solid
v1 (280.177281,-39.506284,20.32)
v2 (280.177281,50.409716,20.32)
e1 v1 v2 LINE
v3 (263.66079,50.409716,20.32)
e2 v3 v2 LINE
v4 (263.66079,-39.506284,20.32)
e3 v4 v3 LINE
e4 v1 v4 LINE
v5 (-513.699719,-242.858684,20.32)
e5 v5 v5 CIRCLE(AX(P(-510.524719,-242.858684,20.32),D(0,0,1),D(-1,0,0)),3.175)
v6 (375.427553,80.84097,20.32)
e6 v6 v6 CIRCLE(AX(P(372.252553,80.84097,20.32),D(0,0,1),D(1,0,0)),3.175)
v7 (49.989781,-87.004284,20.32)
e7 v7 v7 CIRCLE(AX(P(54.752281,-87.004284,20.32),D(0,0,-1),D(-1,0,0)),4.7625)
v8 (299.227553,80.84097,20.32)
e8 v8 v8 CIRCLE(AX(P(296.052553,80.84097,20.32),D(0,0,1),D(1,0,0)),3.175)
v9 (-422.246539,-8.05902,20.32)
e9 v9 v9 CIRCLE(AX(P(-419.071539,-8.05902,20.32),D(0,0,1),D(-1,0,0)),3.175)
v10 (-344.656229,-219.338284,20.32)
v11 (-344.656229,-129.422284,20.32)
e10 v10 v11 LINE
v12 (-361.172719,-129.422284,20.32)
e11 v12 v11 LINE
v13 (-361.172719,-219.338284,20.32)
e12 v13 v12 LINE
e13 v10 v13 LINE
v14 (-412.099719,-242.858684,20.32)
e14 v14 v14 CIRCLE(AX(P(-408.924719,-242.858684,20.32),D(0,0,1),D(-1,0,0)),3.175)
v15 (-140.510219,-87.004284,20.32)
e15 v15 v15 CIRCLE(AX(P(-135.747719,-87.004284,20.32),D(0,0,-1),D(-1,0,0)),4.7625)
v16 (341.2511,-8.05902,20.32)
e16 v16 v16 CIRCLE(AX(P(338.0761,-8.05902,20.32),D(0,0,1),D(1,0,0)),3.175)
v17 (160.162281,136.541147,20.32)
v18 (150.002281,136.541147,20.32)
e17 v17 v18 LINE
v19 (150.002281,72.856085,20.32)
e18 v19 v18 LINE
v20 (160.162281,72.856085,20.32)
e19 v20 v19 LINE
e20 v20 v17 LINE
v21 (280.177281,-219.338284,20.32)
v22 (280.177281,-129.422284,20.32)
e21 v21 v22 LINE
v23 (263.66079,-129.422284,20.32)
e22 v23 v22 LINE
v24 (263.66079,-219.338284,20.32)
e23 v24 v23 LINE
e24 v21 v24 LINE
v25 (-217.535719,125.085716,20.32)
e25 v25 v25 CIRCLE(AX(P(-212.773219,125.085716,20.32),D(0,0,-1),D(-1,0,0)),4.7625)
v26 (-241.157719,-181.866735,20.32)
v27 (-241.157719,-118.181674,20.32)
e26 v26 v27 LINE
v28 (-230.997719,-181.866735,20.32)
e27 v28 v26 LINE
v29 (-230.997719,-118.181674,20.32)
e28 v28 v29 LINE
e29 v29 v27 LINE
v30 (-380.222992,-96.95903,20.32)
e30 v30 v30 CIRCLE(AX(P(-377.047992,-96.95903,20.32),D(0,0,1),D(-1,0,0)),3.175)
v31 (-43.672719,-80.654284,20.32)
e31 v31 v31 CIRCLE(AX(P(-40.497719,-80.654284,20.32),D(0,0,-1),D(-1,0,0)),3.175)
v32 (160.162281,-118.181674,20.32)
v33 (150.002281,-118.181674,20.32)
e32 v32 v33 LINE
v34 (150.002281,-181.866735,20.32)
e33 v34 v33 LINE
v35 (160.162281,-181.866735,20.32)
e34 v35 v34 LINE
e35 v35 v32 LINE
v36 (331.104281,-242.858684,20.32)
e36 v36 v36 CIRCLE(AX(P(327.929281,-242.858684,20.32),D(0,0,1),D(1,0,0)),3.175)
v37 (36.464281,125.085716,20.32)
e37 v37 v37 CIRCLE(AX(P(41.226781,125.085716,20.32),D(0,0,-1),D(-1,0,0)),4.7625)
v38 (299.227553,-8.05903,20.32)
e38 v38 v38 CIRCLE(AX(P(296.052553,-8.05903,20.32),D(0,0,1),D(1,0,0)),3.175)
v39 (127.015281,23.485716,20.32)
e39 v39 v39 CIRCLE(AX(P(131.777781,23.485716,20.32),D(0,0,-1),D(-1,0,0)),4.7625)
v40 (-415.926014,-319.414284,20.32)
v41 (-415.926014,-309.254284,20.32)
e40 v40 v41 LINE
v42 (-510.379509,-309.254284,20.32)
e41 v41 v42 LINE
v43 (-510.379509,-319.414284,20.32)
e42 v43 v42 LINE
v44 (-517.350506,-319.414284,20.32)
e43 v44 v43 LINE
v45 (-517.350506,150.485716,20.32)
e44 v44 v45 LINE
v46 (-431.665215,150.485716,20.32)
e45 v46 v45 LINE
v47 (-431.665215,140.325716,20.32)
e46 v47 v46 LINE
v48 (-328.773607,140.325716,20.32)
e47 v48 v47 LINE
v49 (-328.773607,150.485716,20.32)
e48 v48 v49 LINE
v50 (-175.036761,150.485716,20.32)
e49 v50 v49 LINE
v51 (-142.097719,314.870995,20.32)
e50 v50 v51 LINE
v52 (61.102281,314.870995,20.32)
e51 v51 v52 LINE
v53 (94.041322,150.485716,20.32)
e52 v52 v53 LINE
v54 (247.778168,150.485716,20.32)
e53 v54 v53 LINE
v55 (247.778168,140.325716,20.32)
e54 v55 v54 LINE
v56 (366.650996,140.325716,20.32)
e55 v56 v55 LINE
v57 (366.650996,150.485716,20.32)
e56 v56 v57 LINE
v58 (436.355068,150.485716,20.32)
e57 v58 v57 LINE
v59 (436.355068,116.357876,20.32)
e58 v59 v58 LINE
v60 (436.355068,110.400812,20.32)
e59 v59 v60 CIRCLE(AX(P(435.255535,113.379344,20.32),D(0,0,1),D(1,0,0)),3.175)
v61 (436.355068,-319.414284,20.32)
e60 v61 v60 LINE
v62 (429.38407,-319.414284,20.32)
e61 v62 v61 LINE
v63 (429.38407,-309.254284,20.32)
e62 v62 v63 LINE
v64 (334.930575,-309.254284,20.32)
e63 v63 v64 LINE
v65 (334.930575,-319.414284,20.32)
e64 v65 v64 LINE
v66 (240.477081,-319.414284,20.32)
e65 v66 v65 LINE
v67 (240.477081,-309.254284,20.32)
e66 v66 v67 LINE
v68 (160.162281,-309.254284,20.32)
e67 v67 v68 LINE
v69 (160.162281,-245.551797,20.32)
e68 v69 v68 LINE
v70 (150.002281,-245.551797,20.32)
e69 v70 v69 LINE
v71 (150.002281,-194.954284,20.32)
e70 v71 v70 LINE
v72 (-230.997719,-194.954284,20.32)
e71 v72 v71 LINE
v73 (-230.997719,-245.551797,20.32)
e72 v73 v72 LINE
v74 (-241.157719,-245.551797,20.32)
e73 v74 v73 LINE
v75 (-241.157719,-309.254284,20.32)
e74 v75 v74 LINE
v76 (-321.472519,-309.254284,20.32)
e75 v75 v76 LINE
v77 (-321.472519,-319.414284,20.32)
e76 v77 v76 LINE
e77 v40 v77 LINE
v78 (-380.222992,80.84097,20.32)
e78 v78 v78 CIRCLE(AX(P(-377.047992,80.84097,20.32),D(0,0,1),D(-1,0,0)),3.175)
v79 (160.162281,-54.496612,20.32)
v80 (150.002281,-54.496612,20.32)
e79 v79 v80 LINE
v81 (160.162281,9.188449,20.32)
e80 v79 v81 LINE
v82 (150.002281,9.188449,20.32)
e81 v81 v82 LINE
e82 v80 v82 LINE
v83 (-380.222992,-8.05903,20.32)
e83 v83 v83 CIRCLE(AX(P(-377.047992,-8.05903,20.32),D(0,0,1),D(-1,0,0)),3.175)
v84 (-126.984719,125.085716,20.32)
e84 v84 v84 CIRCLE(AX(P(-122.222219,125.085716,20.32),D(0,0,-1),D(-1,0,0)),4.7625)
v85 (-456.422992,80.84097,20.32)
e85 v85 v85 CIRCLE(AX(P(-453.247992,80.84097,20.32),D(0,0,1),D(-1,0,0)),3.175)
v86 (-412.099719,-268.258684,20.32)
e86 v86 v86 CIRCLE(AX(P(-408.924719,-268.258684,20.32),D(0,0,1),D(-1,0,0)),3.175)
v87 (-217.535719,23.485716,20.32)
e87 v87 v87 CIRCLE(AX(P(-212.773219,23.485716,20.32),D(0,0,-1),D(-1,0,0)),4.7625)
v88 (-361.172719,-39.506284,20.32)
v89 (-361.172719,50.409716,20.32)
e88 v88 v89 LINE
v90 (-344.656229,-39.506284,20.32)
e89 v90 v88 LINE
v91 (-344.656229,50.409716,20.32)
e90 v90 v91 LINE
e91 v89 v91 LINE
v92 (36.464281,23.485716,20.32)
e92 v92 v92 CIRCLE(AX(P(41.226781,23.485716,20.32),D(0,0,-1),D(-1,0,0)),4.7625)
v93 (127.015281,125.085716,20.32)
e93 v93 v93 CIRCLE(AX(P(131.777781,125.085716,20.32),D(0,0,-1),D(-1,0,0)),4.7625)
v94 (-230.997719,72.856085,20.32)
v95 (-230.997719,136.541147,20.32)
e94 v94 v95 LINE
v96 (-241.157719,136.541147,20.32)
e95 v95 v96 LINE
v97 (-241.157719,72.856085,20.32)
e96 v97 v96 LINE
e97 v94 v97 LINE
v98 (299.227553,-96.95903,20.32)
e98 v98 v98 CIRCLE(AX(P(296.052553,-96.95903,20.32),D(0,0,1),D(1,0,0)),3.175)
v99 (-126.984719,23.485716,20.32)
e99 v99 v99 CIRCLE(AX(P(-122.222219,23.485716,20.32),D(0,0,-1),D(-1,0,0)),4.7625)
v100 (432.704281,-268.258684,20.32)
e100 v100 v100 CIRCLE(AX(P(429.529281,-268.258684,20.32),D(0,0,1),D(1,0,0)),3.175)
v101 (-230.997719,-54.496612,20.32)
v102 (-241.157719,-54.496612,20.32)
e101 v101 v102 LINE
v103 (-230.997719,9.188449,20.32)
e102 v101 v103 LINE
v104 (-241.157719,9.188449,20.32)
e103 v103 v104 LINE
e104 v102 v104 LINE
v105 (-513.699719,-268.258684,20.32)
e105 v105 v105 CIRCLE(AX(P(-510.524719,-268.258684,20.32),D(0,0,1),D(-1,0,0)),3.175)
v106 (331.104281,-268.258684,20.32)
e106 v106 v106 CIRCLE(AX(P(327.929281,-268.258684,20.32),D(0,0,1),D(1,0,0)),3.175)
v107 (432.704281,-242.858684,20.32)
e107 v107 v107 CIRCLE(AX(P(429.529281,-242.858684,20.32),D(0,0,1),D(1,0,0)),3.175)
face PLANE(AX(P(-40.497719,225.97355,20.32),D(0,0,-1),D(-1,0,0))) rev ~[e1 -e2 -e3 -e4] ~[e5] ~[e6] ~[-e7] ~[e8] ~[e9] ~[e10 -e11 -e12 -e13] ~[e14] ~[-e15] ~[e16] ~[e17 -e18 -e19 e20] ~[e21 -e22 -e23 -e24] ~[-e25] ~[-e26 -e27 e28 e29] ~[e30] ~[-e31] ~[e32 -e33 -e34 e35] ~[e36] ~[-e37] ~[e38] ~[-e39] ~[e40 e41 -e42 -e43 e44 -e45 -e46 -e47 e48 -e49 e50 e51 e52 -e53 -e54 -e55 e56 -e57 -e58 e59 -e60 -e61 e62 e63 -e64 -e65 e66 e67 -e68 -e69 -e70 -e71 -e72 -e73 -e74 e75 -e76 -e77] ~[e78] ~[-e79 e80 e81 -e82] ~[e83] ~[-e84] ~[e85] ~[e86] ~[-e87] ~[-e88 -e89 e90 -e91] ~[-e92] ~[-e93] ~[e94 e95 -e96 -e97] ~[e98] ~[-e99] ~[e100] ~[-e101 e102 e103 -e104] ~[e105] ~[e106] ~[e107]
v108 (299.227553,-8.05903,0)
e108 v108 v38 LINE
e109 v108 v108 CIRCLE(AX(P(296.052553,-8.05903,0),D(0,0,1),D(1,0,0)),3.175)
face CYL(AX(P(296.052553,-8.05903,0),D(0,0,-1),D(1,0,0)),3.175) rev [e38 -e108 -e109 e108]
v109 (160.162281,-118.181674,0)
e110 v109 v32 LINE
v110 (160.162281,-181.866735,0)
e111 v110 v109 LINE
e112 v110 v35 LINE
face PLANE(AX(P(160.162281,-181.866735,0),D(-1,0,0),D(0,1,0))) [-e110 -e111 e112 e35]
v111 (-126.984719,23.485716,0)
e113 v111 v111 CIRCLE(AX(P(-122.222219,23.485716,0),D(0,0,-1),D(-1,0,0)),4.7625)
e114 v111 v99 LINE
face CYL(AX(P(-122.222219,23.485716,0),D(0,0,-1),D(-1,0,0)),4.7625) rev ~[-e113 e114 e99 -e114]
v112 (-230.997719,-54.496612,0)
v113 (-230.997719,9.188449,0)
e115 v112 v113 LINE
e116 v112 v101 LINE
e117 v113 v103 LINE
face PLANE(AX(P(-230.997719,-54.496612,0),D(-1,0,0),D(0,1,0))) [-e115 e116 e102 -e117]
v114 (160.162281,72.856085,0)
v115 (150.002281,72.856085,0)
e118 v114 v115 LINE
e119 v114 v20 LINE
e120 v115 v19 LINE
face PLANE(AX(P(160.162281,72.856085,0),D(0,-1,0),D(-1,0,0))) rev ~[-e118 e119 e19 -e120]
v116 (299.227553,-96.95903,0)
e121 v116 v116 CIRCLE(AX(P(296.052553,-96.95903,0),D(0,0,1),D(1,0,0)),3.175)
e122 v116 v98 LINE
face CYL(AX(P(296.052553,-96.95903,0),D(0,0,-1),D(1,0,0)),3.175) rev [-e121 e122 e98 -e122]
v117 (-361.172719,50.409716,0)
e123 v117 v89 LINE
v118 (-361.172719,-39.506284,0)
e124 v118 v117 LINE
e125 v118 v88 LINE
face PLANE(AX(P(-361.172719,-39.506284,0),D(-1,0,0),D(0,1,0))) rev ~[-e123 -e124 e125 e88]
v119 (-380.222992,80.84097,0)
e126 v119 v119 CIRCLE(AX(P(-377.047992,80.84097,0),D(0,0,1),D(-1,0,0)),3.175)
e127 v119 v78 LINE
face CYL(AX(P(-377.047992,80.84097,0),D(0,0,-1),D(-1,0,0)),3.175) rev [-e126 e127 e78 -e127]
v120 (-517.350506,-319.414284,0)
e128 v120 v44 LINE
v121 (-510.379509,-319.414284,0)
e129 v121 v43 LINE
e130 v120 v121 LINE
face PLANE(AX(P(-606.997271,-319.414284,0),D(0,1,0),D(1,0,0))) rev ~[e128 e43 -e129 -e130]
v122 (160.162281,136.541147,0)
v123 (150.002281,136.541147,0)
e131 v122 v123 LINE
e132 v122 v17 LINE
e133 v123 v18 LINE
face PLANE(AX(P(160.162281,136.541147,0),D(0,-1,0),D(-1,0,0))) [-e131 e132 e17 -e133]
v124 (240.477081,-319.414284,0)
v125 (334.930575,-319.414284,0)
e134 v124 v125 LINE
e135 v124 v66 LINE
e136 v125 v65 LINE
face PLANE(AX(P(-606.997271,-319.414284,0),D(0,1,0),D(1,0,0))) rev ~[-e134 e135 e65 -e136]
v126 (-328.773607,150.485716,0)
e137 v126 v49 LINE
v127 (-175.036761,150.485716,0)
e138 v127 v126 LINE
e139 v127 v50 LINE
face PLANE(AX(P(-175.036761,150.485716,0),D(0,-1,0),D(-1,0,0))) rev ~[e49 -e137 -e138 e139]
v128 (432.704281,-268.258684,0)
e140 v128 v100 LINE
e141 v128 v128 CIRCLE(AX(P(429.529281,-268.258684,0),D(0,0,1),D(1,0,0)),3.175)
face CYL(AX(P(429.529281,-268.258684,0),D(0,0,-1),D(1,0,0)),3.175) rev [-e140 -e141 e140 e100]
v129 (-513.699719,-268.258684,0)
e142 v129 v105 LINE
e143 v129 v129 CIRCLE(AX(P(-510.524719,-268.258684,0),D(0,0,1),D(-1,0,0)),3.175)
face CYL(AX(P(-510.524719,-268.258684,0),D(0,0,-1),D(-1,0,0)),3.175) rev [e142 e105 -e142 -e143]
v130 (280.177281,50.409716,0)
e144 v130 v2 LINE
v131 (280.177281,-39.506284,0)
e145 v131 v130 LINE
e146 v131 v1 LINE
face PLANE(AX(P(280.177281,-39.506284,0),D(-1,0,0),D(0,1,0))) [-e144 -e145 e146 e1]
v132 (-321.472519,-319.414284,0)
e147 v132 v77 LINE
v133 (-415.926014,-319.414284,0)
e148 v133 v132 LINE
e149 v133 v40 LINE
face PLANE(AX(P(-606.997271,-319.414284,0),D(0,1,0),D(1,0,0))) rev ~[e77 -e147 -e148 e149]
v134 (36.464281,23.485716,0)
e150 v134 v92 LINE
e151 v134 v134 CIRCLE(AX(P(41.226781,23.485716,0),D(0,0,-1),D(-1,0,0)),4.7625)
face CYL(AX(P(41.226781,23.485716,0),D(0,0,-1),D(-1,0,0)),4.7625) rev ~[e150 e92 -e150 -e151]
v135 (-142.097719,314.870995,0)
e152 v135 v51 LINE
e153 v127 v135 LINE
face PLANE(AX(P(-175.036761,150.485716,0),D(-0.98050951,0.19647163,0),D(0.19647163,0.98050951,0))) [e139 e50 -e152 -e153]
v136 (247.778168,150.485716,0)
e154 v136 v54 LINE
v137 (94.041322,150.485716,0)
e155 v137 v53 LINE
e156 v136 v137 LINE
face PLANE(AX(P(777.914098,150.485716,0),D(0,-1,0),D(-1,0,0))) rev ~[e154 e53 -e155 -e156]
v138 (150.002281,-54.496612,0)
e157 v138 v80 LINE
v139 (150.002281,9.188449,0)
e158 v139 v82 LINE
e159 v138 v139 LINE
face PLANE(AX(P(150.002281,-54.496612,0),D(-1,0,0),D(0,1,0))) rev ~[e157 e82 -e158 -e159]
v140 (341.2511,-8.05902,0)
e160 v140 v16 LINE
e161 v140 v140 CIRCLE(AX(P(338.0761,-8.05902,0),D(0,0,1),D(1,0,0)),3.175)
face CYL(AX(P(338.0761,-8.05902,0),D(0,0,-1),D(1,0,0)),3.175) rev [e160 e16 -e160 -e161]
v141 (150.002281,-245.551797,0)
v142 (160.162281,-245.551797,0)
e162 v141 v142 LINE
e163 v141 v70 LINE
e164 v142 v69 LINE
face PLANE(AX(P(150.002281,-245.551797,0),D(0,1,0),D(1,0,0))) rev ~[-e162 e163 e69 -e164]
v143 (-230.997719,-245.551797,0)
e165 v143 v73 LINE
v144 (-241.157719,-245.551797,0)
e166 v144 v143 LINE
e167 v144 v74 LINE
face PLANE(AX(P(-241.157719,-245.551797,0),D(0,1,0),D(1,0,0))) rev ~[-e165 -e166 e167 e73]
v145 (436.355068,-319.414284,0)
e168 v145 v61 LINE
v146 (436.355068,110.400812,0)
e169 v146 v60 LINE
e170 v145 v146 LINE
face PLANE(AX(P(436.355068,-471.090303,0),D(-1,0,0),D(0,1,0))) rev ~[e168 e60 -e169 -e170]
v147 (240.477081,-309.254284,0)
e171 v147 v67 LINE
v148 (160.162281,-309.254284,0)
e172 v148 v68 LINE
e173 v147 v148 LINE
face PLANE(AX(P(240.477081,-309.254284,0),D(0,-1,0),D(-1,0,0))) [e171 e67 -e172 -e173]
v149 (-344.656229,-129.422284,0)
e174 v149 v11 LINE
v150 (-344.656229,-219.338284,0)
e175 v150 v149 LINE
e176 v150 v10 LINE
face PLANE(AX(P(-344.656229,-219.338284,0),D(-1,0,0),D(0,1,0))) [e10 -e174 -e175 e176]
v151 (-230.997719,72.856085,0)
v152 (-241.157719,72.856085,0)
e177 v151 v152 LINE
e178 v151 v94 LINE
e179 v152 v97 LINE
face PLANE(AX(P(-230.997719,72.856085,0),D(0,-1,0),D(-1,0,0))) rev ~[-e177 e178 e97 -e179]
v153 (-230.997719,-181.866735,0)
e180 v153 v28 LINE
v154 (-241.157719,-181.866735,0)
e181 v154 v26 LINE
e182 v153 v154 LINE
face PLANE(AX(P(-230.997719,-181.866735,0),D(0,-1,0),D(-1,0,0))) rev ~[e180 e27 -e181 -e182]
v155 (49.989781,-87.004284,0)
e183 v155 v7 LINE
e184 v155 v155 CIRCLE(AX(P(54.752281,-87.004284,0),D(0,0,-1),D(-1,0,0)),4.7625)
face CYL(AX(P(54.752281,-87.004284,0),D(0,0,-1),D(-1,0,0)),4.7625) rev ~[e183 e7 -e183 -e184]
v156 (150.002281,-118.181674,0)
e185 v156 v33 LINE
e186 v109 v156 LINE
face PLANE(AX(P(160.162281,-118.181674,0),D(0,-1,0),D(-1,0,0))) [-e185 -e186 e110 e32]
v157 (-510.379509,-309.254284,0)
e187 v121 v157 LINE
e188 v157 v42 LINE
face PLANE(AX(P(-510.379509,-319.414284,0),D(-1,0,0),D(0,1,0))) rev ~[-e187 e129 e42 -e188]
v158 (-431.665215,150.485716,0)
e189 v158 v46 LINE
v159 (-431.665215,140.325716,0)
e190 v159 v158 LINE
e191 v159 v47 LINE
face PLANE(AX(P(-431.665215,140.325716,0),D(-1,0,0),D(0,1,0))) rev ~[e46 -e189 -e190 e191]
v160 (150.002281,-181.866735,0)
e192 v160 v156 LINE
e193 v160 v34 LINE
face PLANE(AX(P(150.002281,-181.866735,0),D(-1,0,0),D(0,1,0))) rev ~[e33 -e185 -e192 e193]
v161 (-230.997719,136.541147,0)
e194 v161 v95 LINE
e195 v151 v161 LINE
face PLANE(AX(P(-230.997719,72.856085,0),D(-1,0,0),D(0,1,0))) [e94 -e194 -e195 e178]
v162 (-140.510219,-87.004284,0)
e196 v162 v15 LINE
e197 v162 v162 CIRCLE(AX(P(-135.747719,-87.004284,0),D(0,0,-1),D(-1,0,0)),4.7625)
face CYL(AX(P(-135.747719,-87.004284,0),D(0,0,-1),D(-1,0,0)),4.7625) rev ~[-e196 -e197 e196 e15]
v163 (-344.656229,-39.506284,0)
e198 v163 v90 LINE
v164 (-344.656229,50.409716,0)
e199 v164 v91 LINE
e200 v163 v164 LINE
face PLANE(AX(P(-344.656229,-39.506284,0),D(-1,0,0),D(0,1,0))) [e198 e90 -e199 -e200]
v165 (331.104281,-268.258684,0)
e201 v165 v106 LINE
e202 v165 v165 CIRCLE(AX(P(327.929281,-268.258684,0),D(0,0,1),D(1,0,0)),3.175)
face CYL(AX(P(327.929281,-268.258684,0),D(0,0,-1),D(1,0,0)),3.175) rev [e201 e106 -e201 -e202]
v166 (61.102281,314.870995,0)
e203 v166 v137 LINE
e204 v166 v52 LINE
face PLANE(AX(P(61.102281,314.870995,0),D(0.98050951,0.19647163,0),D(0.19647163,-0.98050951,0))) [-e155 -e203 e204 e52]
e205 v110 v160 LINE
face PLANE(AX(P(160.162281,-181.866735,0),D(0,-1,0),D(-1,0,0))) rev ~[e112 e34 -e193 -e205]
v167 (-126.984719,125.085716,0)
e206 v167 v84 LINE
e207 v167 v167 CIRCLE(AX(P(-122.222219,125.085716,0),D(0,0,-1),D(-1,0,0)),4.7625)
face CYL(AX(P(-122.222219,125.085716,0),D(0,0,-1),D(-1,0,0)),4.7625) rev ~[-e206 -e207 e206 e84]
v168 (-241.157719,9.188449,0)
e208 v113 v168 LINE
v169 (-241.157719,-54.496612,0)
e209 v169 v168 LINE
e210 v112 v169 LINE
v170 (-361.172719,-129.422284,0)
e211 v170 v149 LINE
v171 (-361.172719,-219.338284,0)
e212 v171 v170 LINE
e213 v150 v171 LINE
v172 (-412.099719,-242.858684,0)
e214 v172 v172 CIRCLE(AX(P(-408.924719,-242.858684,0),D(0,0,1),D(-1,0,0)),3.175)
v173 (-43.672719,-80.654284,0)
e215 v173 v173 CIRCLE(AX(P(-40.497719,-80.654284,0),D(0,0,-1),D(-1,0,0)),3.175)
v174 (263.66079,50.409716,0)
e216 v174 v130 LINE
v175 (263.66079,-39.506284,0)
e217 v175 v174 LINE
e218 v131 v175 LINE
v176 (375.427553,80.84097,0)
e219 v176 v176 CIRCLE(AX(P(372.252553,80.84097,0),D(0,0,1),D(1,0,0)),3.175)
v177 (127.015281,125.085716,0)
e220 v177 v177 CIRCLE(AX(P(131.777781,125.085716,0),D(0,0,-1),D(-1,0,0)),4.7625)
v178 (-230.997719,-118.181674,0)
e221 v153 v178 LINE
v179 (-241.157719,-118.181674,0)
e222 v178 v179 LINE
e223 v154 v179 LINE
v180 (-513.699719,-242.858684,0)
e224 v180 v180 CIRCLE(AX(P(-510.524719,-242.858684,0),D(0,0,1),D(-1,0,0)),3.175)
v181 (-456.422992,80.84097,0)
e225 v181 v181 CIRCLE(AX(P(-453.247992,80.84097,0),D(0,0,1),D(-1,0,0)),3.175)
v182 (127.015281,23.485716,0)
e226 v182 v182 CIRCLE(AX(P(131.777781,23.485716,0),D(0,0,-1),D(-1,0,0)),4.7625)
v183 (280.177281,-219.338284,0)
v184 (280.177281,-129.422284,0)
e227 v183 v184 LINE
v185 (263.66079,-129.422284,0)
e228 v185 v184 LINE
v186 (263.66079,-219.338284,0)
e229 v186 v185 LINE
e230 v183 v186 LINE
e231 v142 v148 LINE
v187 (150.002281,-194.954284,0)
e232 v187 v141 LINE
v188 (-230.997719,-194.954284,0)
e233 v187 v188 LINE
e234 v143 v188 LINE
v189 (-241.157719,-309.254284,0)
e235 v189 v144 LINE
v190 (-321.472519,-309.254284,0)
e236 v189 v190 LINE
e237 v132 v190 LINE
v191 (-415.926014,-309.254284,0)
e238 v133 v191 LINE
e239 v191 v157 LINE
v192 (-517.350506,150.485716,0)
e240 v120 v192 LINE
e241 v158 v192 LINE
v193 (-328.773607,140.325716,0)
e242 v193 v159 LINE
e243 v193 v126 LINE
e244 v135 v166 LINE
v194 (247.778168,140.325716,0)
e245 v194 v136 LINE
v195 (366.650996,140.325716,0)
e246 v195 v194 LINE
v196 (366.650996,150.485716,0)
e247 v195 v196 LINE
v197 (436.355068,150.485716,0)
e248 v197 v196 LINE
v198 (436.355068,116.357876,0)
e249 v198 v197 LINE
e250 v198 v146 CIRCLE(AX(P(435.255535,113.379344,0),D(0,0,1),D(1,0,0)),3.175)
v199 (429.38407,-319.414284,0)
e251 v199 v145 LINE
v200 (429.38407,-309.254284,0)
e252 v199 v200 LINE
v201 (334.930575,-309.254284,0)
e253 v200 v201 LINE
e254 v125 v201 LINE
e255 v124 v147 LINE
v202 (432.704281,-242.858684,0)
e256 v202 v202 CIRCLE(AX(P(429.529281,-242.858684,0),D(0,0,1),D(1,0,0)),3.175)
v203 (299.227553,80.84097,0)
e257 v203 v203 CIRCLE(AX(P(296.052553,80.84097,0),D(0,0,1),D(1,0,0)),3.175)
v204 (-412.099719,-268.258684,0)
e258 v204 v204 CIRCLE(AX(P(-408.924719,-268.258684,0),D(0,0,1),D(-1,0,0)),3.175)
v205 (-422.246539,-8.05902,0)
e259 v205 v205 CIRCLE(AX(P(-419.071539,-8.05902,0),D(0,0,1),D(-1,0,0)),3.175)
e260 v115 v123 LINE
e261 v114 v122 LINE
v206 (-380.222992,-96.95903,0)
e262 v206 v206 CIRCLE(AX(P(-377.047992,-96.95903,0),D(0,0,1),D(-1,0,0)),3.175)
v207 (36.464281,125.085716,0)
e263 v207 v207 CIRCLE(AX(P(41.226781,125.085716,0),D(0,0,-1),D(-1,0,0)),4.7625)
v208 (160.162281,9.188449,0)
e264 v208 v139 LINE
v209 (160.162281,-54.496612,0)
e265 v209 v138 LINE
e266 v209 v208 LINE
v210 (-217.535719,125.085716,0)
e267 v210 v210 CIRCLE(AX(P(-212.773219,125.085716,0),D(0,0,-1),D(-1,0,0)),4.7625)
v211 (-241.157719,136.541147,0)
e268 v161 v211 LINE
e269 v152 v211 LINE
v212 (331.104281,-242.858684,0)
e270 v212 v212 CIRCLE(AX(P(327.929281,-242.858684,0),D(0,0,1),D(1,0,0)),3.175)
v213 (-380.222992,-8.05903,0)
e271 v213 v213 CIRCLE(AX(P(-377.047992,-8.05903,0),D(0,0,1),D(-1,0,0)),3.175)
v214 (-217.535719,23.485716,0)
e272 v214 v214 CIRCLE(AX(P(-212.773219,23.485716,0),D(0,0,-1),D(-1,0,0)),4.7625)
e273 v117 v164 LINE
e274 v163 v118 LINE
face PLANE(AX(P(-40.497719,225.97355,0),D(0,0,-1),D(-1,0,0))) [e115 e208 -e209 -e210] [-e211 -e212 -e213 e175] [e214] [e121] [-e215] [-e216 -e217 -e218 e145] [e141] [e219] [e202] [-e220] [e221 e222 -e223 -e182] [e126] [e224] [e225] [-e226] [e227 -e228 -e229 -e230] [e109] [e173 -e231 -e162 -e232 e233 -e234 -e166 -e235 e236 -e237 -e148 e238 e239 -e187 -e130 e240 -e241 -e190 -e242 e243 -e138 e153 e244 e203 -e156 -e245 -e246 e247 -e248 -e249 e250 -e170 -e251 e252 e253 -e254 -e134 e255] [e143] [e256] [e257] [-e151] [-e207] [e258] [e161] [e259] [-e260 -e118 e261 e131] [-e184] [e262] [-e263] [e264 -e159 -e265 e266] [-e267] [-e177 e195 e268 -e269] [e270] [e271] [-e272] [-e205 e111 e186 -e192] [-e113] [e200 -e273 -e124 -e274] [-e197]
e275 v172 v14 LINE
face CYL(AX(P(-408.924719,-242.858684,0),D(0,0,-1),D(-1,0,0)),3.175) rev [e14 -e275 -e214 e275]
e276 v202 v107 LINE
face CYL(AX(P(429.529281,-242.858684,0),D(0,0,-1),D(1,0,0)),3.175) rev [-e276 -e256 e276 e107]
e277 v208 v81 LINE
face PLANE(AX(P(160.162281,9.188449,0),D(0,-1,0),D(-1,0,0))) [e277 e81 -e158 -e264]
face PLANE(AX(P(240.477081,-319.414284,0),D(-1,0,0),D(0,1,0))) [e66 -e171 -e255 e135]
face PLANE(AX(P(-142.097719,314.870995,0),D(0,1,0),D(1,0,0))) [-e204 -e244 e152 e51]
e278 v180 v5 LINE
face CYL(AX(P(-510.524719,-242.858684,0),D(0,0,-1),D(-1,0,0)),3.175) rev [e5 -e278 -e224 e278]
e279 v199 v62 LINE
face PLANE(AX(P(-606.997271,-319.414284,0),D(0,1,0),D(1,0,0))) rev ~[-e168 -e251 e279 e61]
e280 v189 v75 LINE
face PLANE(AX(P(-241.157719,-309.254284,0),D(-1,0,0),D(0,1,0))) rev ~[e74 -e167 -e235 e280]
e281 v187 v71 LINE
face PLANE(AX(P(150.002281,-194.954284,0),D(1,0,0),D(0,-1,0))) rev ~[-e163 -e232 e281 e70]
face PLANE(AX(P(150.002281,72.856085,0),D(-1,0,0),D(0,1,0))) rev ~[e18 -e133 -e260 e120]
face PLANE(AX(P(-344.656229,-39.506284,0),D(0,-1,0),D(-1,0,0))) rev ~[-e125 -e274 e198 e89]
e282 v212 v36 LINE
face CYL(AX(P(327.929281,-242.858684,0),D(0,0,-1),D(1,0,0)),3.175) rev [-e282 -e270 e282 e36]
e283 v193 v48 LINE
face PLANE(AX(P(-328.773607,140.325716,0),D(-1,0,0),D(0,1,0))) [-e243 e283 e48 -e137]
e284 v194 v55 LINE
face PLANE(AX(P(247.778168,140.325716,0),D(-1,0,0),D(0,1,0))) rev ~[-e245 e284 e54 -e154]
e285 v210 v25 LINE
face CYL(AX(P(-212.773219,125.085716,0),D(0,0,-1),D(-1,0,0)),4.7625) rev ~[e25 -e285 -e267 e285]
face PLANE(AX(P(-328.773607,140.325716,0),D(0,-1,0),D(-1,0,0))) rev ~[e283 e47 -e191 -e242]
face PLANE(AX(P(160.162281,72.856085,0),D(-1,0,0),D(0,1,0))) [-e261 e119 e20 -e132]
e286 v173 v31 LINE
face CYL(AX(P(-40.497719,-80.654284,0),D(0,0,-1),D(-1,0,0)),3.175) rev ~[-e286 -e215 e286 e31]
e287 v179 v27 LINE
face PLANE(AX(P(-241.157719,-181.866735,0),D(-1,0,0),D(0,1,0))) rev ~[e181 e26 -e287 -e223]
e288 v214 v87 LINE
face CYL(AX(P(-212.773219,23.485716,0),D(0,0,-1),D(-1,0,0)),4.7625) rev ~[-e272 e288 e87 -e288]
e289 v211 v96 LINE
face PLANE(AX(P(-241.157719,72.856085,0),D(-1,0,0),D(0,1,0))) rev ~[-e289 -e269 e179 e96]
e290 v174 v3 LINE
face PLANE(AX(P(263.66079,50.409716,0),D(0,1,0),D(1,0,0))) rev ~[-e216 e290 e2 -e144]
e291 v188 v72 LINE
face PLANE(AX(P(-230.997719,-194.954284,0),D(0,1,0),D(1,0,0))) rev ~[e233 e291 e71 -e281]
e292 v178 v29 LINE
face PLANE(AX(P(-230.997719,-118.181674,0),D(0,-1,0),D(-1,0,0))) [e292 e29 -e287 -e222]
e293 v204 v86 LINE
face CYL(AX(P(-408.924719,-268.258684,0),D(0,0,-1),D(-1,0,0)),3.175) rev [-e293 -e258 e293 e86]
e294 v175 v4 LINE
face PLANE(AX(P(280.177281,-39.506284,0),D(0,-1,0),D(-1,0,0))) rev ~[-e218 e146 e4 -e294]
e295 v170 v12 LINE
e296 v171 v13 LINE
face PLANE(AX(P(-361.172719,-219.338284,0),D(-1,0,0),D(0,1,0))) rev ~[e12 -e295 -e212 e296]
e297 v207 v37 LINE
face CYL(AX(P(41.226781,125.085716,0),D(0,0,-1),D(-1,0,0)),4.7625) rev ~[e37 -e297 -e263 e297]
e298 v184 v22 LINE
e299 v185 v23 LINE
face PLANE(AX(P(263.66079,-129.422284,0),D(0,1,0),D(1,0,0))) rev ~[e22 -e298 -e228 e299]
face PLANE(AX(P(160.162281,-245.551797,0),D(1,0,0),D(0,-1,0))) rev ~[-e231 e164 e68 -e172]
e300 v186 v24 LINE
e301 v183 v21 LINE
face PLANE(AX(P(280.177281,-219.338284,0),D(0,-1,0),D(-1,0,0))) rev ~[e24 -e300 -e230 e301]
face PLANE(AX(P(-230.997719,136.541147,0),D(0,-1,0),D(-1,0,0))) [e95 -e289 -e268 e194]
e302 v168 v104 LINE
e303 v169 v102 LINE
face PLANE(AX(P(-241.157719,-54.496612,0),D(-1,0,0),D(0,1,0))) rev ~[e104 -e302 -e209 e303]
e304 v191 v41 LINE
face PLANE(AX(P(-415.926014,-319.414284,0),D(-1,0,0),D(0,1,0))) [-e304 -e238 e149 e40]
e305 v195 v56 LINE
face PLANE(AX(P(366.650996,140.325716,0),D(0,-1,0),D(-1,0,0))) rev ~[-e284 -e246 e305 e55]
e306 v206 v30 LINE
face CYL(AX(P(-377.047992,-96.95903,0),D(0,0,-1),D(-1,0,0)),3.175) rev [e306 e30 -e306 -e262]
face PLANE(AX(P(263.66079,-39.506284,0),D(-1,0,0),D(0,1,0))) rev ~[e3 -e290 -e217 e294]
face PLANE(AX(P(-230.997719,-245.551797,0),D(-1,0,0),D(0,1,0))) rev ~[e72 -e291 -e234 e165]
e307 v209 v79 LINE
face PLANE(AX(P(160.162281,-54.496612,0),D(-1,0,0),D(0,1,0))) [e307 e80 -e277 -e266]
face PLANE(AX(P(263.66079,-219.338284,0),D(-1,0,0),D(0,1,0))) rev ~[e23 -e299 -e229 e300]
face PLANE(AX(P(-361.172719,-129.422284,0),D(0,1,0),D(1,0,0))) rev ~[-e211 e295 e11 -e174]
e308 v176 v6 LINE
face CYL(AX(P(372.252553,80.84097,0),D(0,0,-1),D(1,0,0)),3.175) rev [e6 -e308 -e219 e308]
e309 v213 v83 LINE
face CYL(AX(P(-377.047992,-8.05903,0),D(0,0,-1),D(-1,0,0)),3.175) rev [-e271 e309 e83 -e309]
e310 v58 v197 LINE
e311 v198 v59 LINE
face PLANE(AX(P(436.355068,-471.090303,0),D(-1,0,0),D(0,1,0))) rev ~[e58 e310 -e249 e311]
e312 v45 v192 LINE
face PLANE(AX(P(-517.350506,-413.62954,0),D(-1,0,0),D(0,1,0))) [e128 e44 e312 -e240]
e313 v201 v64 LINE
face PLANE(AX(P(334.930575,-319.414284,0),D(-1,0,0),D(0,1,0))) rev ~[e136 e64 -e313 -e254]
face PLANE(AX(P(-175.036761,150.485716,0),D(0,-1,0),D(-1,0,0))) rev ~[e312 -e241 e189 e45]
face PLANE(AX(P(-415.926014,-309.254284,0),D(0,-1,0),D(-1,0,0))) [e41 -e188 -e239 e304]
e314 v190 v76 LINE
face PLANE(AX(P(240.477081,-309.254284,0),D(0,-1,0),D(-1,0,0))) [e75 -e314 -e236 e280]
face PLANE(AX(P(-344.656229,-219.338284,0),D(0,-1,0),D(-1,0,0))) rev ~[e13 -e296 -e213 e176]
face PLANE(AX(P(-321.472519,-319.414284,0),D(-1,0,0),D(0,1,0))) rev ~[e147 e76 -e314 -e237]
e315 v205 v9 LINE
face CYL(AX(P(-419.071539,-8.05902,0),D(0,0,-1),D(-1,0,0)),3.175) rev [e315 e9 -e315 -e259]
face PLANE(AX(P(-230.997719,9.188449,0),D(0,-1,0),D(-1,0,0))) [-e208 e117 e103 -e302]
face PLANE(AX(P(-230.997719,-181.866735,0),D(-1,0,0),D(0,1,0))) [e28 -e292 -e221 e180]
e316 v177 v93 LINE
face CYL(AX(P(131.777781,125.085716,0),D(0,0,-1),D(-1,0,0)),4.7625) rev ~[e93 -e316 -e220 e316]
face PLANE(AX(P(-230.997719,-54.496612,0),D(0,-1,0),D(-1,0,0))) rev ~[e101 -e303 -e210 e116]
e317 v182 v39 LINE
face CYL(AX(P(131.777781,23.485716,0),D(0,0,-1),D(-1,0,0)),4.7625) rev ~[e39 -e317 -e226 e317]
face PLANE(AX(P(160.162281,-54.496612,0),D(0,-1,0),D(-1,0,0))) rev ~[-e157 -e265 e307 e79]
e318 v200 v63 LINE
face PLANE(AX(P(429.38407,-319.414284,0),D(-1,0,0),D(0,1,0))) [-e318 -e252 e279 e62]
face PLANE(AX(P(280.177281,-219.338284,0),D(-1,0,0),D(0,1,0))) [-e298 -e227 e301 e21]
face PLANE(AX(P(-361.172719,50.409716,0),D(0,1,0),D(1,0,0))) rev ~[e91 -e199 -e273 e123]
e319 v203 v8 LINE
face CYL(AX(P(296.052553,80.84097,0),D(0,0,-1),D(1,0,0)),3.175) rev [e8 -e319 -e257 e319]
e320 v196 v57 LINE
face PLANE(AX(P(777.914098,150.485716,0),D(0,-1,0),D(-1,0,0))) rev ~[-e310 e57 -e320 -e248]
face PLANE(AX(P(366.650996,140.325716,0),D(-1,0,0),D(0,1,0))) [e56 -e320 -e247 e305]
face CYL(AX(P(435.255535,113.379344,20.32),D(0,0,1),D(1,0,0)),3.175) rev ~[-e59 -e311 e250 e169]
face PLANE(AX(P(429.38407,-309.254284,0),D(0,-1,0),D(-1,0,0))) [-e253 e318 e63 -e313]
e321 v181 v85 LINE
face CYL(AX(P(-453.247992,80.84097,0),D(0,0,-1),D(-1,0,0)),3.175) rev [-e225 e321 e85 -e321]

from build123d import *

# Parameters (mm, degrees)
BOSS_EXTRUDE1_DEPTH = 20.32
SKETCH2_W           = 120.284747719
SKETCH2_H           = 10.16
SKETCH2_W_2         = 118.872828106
SKETCH2_W_3         = 10.166490401
SKETCH2_H_2         = 89.916
SKETCH2_W_4         = 102.891608588
SKETCH2_W_5         = 94.453494602
SKETCH2_W_6         = 3.175
SKETCH2_W_7         = 561.9496
CUT_EXTRUDE1_DEPTH  = 137.414
SKETCH3_W           = 337.058
SKETCH3_H           = 124.46
CUT_EXTRUDE2_DEPTH  = 137.414
SKETCH4_W           = 10.16
SKETCH4_H           = 63.685061479
SKETCH4_H_2         = 63.685061478
CUT_EXTRUDE3_DEPTH  = 20.32
SKETCH10_R          = 3.175
CUT_EXTRUDE5_DEPTH  = 20.32
SKETCH12_R          = 4.7625
CUT_EXTRUDE6_DEPTH  = 917.604828076
SKETCH14_R          = 3.175
CUT_EXTRUDE7_DEPTH  = 917.604828076
SKETCH15_R          = 4.7625
SKETCH15_R_2        = 3.175
CUT_EXTRUDE8_DEPTH  = 917.604828076
SKETCH16_W          = 585.62283163
SKETCH16_H          = 602.215256286
SKETCH16_W_2        = 414.697903798
SKETCH16_H_2        = 659.676019196
CUT_EXTRUDE9_DEPTH  = 25.4


with BuildPart() as part:
    # Sketch1 → Boss-Extrude1 (new body)
    with BuildSketch(Plane.XY):
        Polygon((94.041322477, 150.485716341), (-175.036761108, 150.485716341), (-142.097719316, 314.8709952), (61.102280684, 314.8709952), align=None)
        with BuildLine():
            Line((-606.997271248, -319.414283659), (526.001832617, -319.414283659))
            add(Edge.make_bspline(
                [(583.362059287, -282.457957765), (581.029219579, -287.649310181), (577.879080401, -292.734699958), (570.038270446, -301.965622016), (565.348976837, -306.100497209), (554.949172694, -312.800933616), (549.248266441, -315.360306939), (537.611112797, -318.678742027), (531.685117348, -319.440968422), (526.001832617, -319.414283659)],
                knots=[0, 0, 0, 0, 0.25, 0.25, 0.5, 0.5, 0.75, 0.75, 1, 1, 1, 1], degree=3))
            Line((583.362059287, -282.457957765), (777.91409763, 150.485716341))
            Line((777.91409763, 150.485716341), (-858.909536262, 150.485716341))
            Line((-858.909536262, 150.485716341), (-664.600308277, -281.91762311))
            add(Edge.make_bspline(
                [(-664.600308277, -281.91762311), (-662.275037436, -287.157802838), (-659.126015856, -292.295113907), (-651.27178065, -301.630322109), (-646.567903812, -305.817478055), (-636.124076479, -312.615880857), (-630.393770919, -315.220849348), (-618.687590773, -318.618481158), (-612.722057732, -319.414283659), (-606.997271248, -319.414283659)],
                knots=[0, 0, 0, 0, 0.25, 0.25, 0.5, 0.5, 0.75, 0.75, 1, 1, 1, 1], degree=3))
        make_face()
    extrude(amount=BOSS_EXTRUDE1_DEPTH)

    # Sketch2 → Cut-Extrude1 (cut)
    with BuildSketch(Plane(origin=(0, 0, 0), x_dir=(-1, 0, 0), z_dir=(0, 0, -1))):
        with Locations((-547.078117621, 145.405716341)):
            Rectangle(SKETCH2_W, SKETCH2_H)
        with Locations((-307.214581989, 145.405716341)):
            Rectangle(SKETCH2_W_2, SKETCH2_H)
        with Locations((-271.919035422, 5.451716341)):
            Rectangle(SKETCH2_W_3, SKETCH2_H_2)
        with Locations((-271.919035422, -174.380283659)):
            Rectangle(SKETCH2_W_3, SKETCH2_H_2)
        with Locations((352.914474055, -174.380283659)):
            Rectangle(SKETCH2_W_3, SKETCH2_H_2)
        with Locations((352.914474055, 5.451716341)):
            Rectangle(SKETCH2_W_3, SKETCH2_H_2)
        with Locations((380.219410862, 145.405716341)):
            Rectangle(SKETCH2_W_4, SKETCH2_H)
        with Locations((586.002628038, 145.405716341)):
            Rectangle(SKETCH2_W_4, SKETCH2_H)
        with Locations((-382.157322587, -314.334283659)):
            Rectangle(SKETCH2_W_5, SKETCH2_H)
        with Locations((463.152761219, -314.334283659)):
            Rectangle(SKETCH2_W_5, SKETCH2_H)
        with Locations((-278.589780623, -174.380283659)):
            Rectangle(SKETCH2_W_6, SKETCH2_H_2)
        with Locations((-265.248290222, -174.380283659)):
            Rectangle(SKETCH2_W_6, SKETCH2_H_2)
        with Locations((-278.589780623, 5.451716341)):
            Rectangle(SKETCH2_W_6, SKETCH2_H_2)
        with Locations((-265.248290222, 5.451716341)):
            Rectangle(SKETCH2_W_6, SKETCH2_H_2)
        with Locations((346.243728854, 5.451716341)):
            Rectangle(SKETCH2_W_6, SKETCH2_H_2)
        with Locations((359.585219255, 5.451716341)):
            Rectangle(SKETCH2_W_6, SKETCH2_H_2)
        with Locations((346.243728854, -174.380283659)):
            Rectangle(SKETCH2_W_6, SKETCH2_H_2)
        with Locations((359.585219255, -174.380283659)):
            Rectangle(SKETCH2_W_6, SKETCH2_H_2)
        with Locations((40.497719316, -314.334283659)):
            Rectangle(SKETCH2_W_7, SKETCH2_H)
    extrude(amount=-CUT_EXTRUDE1_DEPTH, mode=Mode.SUBTRACT)

    # Sketch3 → Cut-Extrude2 (cut)
    with BuildSketch(Plane.XY.offset(20.32)):
        with Locations((-40.497719316, -257.184283659)):
            Rectangle(SKETCH3_W, SKETCH3_H)
    extrude(amount=-CUT_EXTRUDE2_DEPTH, mode=Mode.SUBTRACT)

    # Sketch4 → Cut-Extrude3 (cut)
    with BuildSketch(Plane(origin=(0, 0, 0), x_dir=(-1, 0, 0), z_dir=(0, 0, -1))):
        Polygon((-160.162280684, -245.551796758), (-160.162280684, -309.254283659), (-128.031280684, -309.254283659), (-128.031280684, -194.954283659), (-150.002280684, -194.954283659), (-150.002280684, -245.551796758), align=None)
        Polygon((241.157719316, -309.254283659), (241.157719316, -245.551796758), (230.997719316, -245.551796758), (230.997719316, -194.954283659), (209.026719316, -194.954283659), (209.026719316, -309.254283659), align=None)
        with Locations((-155.082280684, -150.02420454)):
            Rectangle(SKETCH4_W, SKETCH4_H)
        with Locations((-155.082280684, -22.654081584)):
            Rectangle(SKETCH4_W, SKETCH4_H)
        with Locations((-155.082280684, 104.698615951)):
            Rectangle(SKETCH4_W, SKETCH4_H_2)
        with Locations((236.077719316, -150.02420454)):
            Rectangle(SKETCH4_W, SKETCH4_H)
        with Locations((236.077719316, -22.654081584)):
            Rectangle(SKETCH4_W, SKETCH4_H)
        with Locations((236.077719316, 104.698615951)):
            Rectangle(SKETCH4_W, SKETCH4_H_2)
    extrude(amount=-CUT_EXTRUDE3_DEPTH, mode=Mode.SUBTRACT)

    # Sketch10 → Cut-Extrude5 (cut)
    with BuildSketch(Plane.XY):
        with Locations((372.252552874, 80.840970313)):
            Circle(SKETCH10_R)
        with Locations((296.052552874, 80.840970313)):
            Circle(SKETCH10_R)
        with Locations((296.052552874, -8.059029687)):
            Circle(SKETCH10_R)
        with Locations((338.076100273, -8.059019539)):
            Circle(SKETCH10_R)
        with Locations((296.052552874, -96.959029687)):
            Circle(SKETCH10_R)
        with Locations((327.929280684, -242.858683659)):
            Circle(SKETCH10_R)
        with Locations((327.929280684, -268.258683659)):
            Circle(SKETCH10_R)
        with Locations((429.529280684, -268.258683659)):
            Circle(SKETCH10_R)
        with Locations((429.529280684, -242.858683659)):
            Circle(SKETCH10_R)
        with Locations(Location((-510.524719316, -242.858683659, 0), (0, 0, 180))):
            Circle(SKETCH10_R)
        with Locations(Location((-510.524719316, -268.258683659, 0), (0, 0, 180))):
            Circle(SKETCH10_R)
        with Locations(Location((-408.924719316, -268.258683659, 0), (0, 0, 180))):
            Circle(SKETCH10_R)
        with Locations(Location((-408.924719316, -242.858683659, 0), (0, 0, 180))):
            Circle(SKETCH10_R)
        with Locations(Location((-377.047991505, -96.959029687, 0), (0, 0, 180))):
            Circle(SKETCH10_R)
        with Locations(Location((-419.071538905, -8.059019539, 0), (0, 0, 180))):
            Circle(SKETCH10_R)
        with Locations(Location((-377.047991505, -8.059029687, 0), (0, 0, 180))):
            Circle(SKETCH10_R)
        with Locations(Location((-377.047991505, 80.840970313, 0), (0, 0, 180))):
            Circle(SKETCH10_R)
        with Locations(Location((-453.247991505, 80.840970313, 0), (0, 0, 180))):
            Circle(SKETCH10_R)
    extrude(amount=CUT_EXTRUDE5_DEPTH, mode=Mode.SUBTRACT)

    # Sketch12 → Cut-Extrude6 (cut, through all)
    with BuildSketch(Plane(origin=(0, 0, 0), x_dir=(-1, 0, 0), z_dir=(0, 0, -1))):
        with Locations((-41.226780684, 125.085716341)):
            Circle(SKETCH12_R)
        with Locations((-41.226780684, 23.485716341)):
            Circle(SKETCH12_R)
        with Locations((-131.777780684, 23.485716341)):
            Circle(SKETCH12_R)
        with Locations((-131.777780684, 125.085716341)):
            Circle(SKETCH12_R)
        with Locations((212.773219316, 23.485716341)):
            Circle(SKETCH12_R)
        with Locations((212.773219316, 125.085716341)):
            Circle(SKETCH12_R)
        with Locations((122.222219316, 125.085716341)):
            Circle(SKETCH12_R)
        with Locations((122.222219316, 23.485716341)):
            Circle(SKETCH12_R)
    extrude(amount=-CUT_EXTRUDE6_DEPTH, mode=Mode.SUBTRACT)

    # Sketch14 → Cut-Extrude7 (cut, through all)
    with BuildSketch(Plane.XY.offset(20.32)):
        with Locations((435.255534848, 113.379343598)):
            Circle(SKETCH14_R)
        with Locations((485.903167936, 96.510716341)):
            Circle(SKETCH14_R)
        with Locations((485.903167936, 130.247970855)):
            Circle(SKETCH14_R)
    extrude(amount=-CUT_EXTRUDE7_DEPTH, mode=Mode.SUBTRACT)

    # Sketch15 → Cut-Extrude8 (cut, through all)
    with BuildSketch(Plane(origin=(0, 0, 0), x_dir=(-1, 0, 0), z_dir=(0, 0, -1))):
        with Locations((-54.752280684, -87.004283659)):
            Circle(SKETCH15_R)
        with Locations((135.747719316, -87.004283659)):
            Circle(SKETCH15_R)
        with Locations((40.497719316, -80.654283659)):
            Circle(SKETCH15_R_2)
    extrude(amount=-CUT_EXTRUDE8_DEPTH, mode=Mode.SUBTRACT)

    # Sketch16 → Cut-Extrude9 (cut)
    with BuildSketch(Plane(origin=(0, 0, 0), x_dir=(-1, 0, 0), z_dir=(0, 0, -1))):
        with Locations((810.161921947, -112.521911802)):
            Rectangle(SKETCH16_W, SKETCH16_H)
        with Locations((-643.704019399, -141.252293257)):
            Rectangle(SKETCH16_W_2, SKETCH16_H_2)
    extrude(amount=-CUT_EXTRUDE9_DEPTH, mode=Mode.SUBTRACT)


solid = part.part
